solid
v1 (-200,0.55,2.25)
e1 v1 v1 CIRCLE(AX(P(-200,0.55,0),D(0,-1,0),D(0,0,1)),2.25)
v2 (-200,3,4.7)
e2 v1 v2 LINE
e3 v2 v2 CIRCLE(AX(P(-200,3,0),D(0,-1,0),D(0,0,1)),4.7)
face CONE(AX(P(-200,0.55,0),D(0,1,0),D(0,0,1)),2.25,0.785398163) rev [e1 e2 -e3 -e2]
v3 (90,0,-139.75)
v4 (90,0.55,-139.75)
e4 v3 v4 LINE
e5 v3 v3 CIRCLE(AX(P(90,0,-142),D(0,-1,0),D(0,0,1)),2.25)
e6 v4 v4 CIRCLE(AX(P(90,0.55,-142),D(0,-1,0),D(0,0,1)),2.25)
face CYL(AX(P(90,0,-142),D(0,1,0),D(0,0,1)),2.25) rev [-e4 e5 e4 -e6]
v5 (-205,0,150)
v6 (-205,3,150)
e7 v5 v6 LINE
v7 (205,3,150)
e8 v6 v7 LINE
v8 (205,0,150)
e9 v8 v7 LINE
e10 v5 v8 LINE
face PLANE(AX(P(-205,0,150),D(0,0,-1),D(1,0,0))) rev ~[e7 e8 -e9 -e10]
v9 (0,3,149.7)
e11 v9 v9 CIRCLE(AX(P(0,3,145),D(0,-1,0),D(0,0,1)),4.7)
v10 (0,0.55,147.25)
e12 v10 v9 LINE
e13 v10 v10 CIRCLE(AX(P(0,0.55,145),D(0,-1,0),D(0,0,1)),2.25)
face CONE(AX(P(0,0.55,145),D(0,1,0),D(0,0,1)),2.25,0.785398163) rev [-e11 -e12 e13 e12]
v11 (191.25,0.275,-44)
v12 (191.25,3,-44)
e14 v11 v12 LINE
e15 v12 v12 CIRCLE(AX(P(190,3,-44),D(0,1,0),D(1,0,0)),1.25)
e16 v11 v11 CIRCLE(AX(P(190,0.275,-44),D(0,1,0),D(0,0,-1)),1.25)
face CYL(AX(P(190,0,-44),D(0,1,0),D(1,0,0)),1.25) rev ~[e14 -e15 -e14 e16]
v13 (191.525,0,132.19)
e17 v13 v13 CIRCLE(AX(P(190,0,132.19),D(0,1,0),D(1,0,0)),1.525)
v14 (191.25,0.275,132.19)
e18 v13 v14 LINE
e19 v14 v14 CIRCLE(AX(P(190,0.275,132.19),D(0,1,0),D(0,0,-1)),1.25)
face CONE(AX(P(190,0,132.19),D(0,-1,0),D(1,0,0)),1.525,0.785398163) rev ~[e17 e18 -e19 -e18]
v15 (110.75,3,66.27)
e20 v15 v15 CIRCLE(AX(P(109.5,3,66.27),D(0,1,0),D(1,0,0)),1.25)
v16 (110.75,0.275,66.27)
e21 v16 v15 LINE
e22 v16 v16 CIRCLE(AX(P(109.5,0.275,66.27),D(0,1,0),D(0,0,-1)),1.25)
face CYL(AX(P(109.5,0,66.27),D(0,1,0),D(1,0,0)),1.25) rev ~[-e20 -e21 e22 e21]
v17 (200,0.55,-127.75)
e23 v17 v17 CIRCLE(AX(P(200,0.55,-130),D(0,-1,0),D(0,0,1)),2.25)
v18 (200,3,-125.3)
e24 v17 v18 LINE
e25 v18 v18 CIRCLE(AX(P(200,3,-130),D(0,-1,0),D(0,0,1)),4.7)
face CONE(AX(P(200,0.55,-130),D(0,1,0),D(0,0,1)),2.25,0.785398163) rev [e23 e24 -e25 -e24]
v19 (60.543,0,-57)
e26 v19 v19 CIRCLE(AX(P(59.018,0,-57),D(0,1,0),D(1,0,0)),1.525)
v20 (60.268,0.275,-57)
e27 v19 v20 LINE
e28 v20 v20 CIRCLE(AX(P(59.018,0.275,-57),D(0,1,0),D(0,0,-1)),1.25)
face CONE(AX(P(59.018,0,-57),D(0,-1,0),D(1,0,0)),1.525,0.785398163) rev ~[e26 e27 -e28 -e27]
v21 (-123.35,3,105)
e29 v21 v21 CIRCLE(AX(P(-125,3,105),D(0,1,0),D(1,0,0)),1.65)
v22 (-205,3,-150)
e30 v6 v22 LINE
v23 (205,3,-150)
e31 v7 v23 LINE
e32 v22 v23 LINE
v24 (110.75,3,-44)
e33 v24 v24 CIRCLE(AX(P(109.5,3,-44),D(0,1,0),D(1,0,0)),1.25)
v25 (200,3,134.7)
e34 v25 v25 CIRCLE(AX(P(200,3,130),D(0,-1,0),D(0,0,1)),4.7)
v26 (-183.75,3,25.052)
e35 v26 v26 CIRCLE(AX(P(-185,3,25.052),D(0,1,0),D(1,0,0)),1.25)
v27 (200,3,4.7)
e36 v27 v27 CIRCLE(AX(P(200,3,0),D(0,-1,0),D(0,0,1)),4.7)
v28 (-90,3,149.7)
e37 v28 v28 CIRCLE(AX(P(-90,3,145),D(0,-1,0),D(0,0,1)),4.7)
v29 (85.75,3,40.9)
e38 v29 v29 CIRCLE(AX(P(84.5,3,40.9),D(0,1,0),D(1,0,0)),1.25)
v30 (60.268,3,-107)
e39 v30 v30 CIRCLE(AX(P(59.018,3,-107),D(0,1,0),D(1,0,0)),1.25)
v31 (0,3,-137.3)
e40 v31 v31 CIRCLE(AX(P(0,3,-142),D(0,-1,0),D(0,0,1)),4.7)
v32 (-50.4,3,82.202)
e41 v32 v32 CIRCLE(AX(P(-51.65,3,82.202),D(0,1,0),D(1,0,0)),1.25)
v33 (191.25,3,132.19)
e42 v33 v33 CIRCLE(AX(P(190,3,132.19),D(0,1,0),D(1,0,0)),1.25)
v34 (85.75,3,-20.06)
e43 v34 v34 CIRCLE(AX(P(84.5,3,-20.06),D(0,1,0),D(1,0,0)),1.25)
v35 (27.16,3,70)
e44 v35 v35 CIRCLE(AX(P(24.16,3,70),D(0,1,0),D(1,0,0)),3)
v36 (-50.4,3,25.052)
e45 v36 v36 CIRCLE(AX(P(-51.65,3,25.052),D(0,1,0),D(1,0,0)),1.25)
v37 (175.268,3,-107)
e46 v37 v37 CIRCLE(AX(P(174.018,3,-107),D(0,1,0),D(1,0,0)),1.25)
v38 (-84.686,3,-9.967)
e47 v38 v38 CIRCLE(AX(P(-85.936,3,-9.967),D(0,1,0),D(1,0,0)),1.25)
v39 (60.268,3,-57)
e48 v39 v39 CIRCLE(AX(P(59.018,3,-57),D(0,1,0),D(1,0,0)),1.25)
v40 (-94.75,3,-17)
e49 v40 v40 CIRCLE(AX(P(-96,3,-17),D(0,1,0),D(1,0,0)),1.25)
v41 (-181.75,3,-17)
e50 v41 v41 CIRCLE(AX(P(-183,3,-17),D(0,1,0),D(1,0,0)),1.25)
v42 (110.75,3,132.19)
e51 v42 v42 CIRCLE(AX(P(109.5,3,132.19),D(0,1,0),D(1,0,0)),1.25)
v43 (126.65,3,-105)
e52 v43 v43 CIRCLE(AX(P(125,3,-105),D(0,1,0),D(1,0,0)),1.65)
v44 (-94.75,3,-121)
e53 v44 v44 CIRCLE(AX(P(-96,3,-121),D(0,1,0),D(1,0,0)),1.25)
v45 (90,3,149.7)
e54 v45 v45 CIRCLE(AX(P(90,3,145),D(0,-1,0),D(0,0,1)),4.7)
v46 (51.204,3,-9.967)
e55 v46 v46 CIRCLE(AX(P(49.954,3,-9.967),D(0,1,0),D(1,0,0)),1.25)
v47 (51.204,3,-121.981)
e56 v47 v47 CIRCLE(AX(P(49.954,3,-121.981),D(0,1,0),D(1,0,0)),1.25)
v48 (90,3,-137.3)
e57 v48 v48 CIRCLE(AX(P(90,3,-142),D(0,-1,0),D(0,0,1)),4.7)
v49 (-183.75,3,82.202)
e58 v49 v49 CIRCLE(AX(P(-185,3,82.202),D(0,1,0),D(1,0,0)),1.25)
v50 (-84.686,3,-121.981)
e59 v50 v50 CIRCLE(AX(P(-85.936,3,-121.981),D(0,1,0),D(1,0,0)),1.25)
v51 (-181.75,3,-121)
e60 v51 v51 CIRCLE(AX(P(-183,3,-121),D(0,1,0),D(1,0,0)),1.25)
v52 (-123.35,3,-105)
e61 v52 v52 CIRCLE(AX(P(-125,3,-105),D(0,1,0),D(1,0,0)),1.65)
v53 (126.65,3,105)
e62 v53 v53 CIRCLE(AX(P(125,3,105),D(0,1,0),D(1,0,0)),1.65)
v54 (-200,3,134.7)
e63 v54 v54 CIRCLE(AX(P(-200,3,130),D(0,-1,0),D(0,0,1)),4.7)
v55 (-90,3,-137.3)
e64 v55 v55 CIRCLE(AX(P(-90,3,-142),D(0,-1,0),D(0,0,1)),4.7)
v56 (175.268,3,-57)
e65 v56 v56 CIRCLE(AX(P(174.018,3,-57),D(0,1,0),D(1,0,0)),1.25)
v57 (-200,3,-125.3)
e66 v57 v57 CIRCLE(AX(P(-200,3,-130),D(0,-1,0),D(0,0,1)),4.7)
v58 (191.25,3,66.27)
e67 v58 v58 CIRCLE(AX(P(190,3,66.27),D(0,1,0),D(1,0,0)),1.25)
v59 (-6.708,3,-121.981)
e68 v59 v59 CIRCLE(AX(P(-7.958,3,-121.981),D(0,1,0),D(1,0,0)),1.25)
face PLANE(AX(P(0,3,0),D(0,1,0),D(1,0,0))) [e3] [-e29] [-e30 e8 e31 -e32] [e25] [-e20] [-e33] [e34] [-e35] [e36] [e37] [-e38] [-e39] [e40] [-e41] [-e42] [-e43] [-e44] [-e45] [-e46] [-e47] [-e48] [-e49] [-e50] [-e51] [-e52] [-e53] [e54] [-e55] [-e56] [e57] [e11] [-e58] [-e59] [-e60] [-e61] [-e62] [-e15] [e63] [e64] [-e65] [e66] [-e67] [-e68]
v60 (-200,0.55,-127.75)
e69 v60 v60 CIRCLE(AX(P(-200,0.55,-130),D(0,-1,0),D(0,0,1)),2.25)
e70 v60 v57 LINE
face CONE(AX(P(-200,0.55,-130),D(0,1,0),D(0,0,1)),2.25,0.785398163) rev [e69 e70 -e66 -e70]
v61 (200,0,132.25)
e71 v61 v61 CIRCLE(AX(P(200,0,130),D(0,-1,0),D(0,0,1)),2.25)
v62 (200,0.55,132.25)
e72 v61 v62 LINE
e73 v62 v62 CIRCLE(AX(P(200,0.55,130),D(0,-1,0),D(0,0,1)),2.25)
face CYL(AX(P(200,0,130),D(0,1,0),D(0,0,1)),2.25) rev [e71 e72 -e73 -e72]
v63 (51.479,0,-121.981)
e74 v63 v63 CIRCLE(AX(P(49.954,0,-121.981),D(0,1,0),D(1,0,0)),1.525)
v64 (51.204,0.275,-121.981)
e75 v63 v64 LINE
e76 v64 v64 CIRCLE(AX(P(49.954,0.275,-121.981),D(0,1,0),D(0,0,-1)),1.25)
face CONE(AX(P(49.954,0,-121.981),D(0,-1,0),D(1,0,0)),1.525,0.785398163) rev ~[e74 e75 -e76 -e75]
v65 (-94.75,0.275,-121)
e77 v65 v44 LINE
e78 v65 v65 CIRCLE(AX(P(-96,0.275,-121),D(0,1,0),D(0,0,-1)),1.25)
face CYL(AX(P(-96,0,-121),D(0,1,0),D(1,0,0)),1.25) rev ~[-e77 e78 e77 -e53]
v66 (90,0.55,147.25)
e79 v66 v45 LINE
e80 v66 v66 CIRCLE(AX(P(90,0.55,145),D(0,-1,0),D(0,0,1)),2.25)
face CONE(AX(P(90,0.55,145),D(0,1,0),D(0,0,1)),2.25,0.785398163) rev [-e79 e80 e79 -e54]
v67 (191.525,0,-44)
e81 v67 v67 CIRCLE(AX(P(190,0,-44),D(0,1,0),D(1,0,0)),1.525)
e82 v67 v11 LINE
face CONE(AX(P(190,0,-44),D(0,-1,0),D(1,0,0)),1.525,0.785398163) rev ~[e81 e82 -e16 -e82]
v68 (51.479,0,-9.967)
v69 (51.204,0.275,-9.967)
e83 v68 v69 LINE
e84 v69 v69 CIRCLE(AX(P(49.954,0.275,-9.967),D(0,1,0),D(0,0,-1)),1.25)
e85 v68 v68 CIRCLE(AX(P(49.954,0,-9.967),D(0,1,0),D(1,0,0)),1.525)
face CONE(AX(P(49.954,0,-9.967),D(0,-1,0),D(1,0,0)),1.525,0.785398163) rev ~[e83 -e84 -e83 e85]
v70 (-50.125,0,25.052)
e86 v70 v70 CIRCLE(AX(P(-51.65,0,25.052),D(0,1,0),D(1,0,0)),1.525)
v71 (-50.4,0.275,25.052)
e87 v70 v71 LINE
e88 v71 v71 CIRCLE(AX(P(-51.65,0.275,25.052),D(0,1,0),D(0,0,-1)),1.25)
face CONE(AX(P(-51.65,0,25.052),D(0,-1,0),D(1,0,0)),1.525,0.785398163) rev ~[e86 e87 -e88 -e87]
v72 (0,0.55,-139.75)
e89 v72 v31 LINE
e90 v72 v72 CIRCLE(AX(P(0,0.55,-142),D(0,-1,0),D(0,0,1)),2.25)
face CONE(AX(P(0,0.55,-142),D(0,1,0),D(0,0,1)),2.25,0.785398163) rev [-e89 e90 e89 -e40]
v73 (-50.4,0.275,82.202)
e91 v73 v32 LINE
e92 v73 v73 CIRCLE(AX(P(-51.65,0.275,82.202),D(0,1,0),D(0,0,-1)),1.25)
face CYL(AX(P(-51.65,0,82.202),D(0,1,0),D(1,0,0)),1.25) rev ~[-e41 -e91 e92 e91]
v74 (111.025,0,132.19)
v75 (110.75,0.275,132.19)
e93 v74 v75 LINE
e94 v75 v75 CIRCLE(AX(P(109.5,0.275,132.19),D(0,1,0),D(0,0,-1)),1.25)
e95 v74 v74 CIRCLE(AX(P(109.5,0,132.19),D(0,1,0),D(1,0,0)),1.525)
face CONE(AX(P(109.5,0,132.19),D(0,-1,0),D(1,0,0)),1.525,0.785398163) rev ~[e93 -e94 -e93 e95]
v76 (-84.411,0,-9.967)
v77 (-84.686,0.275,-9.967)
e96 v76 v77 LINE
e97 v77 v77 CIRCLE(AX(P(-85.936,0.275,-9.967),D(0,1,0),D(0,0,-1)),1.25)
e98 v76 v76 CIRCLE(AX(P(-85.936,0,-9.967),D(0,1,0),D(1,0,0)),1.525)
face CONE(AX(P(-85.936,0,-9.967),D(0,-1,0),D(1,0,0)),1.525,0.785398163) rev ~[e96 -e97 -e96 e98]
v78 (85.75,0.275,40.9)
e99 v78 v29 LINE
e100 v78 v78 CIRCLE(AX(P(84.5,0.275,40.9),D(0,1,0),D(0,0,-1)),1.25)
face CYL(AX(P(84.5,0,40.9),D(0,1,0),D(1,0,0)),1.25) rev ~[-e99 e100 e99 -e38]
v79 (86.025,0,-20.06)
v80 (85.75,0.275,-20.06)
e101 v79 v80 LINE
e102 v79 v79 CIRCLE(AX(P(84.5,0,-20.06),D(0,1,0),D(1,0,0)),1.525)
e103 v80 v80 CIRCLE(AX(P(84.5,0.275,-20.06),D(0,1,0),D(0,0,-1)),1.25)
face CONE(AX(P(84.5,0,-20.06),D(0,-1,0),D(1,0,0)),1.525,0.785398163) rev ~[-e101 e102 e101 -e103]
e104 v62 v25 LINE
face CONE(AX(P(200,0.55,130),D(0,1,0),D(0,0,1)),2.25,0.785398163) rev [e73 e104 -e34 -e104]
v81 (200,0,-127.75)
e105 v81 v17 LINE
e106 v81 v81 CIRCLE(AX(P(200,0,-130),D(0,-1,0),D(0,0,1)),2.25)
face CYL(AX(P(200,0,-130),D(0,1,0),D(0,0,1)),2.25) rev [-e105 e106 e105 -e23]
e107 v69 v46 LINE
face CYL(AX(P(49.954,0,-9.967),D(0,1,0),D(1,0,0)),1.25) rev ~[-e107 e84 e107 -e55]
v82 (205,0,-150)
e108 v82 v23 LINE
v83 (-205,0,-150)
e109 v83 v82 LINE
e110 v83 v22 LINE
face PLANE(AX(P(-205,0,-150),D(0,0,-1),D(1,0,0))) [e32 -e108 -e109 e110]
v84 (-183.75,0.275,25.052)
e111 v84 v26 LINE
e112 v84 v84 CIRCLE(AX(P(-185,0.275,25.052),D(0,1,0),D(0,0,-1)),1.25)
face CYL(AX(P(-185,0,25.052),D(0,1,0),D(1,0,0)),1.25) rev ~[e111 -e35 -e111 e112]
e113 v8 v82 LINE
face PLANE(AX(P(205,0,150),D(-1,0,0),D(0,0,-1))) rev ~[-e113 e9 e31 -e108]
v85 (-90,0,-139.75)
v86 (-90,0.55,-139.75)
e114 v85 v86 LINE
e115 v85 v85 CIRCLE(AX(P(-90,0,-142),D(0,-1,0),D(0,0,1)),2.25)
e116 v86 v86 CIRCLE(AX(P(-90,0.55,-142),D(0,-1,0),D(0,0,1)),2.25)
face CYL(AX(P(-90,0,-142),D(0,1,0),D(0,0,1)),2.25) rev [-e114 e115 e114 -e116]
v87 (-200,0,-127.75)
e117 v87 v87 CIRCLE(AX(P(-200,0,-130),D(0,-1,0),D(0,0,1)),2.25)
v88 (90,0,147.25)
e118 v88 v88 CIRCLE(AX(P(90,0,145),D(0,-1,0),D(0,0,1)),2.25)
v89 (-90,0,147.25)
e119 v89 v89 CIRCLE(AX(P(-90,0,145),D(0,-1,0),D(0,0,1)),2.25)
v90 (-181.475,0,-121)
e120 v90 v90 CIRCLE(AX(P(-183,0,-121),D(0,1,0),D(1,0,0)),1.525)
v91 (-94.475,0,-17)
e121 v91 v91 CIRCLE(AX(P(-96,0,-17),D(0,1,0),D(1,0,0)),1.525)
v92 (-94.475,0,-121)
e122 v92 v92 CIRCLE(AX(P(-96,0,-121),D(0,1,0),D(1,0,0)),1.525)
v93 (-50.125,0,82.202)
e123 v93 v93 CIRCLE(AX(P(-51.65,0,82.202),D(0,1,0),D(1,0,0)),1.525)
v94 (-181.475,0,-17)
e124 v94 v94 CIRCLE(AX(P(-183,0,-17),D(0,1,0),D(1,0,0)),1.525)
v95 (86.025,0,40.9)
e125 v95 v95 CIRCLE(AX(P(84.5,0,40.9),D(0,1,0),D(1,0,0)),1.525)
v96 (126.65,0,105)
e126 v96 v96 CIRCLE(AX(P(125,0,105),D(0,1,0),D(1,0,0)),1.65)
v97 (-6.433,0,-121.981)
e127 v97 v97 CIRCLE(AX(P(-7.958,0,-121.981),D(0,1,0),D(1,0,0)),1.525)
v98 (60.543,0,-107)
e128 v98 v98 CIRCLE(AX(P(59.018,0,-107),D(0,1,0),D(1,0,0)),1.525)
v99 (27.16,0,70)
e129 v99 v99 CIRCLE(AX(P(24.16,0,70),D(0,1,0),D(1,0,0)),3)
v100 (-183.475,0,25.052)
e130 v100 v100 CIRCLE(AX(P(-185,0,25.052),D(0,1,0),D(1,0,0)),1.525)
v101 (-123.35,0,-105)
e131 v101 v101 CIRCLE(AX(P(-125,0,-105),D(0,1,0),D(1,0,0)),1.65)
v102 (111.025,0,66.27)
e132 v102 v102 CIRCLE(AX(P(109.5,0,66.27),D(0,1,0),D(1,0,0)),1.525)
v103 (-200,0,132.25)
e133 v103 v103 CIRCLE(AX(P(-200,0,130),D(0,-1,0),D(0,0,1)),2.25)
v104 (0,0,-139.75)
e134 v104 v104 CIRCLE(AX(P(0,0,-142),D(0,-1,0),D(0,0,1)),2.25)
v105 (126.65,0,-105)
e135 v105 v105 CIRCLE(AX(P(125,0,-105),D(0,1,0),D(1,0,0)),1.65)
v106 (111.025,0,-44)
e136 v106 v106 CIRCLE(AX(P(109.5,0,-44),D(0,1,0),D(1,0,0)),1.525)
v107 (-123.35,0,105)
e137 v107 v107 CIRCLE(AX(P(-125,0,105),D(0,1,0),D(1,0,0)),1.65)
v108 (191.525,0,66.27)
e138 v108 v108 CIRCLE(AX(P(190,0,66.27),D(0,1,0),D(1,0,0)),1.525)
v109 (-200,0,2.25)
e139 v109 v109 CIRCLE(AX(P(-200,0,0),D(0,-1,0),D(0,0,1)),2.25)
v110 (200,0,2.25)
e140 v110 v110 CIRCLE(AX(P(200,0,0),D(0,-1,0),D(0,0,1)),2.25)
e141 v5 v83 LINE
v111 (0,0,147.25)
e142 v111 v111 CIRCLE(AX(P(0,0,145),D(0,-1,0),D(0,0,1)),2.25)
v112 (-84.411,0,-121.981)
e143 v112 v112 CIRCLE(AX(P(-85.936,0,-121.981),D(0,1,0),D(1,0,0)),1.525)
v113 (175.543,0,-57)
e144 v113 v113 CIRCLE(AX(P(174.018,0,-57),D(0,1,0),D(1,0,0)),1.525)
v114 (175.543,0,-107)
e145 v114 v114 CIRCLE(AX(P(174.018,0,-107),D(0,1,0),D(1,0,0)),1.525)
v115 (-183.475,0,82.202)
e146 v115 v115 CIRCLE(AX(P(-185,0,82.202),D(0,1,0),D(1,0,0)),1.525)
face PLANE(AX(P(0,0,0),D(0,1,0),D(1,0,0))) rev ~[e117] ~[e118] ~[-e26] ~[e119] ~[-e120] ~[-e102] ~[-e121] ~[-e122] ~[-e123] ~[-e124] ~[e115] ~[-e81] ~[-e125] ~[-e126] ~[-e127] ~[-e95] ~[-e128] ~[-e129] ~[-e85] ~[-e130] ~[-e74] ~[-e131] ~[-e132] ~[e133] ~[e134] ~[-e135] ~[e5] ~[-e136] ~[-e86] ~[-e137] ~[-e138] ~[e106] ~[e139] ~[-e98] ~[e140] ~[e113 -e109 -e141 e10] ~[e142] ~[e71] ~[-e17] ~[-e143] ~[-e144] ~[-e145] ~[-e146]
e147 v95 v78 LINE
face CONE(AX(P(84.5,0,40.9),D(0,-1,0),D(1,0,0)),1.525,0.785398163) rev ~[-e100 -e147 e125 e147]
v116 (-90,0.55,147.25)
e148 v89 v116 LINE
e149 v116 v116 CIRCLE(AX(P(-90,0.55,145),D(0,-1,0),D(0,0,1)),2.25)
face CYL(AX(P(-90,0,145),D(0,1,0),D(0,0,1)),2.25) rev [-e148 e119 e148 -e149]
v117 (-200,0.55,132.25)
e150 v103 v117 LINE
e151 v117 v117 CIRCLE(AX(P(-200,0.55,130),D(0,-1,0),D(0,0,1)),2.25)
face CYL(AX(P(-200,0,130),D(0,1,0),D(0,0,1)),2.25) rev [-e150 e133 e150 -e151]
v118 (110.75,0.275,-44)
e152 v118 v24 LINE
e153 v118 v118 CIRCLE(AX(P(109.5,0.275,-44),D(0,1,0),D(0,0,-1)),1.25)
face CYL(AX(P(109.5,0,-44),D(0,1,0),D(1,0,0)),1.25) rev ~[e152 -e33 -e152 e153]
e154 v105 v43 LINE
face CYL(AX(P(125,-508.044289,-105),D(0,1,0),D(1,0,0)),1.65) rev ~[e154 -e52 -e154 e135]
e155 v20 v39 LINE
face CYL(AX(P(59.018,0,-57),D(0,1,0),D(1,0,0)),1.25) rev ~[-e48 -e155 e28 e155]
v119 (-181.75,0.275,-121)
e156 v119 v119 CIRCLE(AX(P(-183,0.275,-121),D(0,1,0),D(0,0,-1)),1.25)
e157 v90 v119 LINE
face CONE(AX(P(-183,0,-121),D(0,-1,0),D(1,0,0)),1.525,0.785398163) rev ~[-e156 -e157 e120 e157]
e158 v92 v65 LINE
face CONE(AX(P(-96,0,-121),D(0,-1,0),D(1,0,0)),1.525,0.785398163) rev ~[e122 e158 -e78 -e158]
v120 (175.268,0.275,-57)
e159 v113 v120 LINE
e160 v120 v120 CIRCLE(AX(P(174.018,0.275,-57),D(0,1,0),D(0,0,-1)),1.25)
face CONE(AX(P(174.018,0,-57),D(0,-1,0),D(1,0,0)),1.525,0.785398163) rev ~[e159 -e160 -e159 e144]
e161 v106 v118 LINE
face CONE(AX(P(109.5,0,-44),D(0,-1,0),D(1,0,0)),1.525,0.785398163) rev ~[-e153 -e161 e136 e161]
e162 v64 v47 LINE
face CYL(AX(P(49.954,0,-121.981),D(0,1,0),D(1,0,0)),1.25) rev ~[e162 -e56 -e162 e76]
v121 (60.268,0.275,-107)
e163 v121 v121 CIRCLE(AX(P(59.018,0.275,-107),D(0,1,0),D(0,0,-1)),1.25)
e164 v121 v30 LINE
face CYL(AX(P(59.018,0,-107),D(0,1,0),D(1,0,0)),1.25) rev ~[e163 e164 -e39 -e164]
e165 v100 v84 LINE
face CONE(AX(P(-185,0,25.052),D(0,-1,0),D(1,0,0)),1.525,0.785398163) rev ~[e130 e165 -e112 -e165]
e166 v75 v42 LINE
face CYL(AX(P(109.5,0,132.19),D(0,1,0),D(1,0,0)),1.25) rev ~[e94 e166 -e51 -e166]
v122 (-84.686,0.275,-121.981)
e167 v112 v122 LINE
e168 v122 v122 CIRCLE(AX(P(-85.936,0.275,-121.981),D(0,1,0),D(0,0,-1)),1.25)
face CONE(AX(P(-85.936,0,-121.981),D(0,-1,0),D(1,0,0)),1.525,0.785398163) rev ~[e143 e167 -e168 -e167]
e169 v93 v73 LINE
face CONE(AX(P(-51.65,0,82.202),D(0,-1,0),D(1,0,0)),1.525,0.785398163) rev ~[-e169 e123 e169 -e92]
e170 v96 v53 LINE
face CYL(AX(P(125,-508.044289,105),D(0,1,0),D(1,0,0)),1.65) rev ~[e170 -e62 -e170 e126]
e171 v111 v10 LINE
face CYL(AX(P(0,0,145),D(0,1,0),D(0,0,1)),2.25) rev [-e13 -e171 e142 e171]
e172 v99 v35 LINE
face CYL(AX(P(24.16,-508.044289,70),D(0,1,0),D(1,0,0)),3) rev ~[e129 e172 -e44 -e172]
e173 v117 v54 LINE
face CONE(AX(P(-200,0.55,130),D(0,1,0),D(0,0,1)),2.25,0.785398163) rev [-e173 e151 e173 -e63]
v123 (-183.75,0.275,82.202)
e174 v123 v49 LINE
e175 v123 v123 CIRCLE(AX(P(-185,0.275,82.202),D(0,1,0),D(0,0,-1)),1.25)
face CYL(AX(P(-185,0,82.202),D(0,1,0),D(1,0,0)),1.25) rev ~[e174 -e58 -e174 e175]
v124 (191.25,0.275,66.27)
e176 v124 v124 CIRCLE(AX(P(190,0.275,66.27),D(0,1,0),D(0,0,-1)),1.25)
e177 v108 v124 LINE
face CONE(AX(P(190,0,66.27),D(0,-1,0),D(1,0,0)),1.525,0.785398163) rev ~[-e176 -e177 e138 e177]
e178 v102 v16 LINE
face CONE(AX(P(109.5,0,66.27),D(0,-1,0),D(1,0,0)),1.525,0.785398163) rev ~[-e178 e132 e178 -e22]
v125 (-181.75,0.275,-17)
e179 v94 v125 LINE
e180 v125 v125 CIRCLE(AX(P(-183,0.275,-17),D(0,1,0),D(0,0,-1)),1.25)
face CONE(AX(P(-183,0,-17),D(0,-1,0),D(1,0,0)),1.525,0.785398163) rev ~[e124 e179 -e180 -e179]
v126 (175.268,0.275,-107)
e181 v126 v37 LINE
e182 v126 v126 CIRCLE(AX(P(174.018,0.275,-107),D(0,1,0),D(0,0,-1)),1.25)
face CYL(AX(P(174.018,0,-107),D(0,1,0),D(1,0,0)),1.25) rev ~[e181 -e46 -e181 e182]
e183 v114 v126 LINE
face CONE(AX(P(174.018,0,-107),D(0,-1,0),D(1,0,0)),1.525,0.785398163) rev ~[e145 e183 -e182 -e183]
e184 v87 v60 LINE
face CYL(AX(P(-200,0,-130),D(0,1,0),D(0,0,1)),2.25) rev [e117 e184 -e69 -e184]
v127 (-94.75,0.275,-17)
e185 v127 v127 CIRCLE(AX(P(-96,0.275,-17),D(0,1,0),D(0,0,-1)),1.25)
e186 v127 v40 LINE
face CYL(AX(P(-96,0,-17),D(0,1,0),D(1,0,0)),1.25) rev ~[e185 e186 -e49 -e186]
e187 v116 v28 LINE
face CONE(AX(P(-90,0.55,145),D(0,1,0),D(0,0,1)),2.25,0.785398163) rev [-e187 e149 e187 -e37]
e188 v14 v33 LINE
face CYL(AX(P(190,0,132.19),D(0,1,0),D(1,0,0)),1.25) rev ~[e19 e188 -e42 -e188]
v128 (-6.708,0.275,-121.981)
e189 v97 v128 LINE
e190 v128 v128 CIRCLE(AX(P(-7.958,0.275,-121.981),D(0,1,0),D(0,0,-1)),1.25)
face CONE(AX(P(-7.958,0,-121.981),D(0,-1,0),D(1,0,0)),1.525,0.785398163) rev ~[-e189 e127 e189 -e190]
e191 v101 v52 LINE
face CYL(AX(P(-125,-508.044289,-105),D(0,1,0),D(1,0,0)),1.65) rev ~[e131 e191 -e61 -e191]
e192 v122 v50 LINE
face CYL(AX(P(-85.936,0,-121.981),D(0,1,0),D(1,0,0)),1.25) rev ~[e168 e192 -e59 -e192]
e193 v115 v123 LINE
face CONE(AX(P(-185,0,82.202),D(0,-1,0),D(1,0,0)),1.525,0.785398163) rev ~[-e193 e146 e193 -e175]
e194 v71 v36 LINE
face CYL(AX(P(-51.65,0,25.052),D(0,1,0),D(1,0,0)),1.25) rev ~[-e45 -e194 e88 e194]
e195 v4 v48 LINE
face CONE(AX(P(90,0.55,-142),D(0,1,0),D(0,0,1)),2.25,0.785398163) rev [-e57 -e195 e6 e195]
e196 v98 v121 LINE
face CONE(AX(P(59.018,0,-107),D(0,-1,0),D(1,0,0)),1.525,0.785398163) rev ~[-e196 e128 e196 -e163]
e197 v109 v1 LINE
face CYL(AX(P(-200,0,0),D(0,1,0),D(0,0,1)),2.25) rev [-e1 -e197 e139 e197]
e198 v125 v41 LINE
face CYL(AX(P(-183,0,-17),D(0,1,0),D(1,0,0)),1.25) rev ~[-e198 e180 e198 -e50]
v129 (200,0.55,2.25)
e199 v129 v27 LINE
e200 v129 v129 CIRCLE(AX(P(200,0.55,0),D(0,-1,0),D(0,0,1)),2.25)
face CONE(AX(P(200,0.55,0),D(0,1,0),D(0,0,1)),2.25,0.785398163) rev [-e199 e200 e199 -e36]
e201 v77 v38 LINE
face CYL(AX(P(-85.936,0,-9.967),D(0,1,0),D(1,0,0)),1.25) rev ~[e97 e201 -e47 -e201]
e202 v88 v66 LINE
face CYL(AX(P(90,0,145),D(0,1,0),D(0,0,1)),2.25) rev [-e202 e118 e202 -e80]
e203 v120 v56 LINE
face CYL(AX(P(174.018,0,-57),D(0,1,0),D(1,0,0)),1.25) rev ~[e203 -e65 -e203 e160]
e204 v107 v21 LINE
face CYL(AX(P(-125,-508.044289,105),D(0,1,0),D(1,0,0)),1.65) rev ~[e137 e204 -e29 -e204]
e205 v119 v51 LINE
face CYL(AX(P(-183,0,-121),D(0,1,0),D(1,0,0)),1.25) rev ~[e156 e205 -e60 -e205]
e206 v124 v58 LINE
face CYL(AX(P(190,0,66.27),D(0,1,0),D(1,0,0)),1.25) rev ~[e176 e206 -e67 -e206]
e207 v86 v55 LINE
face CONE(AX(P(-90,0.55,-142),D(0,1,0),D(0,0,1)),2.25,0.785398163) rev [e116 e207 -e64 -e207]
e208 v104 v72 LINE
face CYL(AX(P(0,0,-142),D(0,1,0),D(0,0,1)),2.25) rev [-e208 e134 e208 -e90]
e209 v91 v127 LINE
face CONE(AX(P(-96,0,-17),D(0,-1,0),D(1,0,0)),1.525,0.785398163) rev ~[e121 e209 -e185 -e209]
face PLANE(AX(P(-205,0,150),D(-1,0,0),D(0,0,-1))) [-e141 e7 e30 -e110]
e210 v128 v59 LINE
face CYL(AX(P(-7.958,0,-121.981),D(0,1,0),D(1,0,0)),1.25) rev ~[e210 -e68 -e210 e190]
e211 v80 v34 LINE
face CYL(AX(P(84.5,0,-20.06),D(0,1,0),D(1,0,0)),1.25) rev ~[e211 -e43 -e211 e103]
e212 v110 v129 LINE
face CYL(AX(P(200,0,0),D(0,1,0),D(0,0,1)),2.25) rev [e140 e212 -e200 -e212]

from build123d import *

# Parameters (mm, degrees)
SKETCH_1_W                   = 410
SKETCH_1_H                   = 300
EXTRUDE_1_DEPTH              = 3
HOLE_WIZARD_M4_1_AT_2_COUNT  = 2
HOLE_WIZARD_M4_1_AT_2_PITCH  = 90
HOLE_WIZARD_M4_1_AT_3_COUNT  = 2
HOLE_WIZARD_M4_1_AT_3_PITCH  = 90
HOLE_WIZARD_M4_1_AT_4_COUNT  = 2
HOLE_WIZARD_M4_1_AT_4_PITCH  = 245.283509433
HOLE_WIZARD_M4_1_AT_5_COUNT  = 2
HOLE_WIZARD_M4_1_AT_5_PITCH  = 287
HOLE_WIZARD_M4_1_AT_6_COUNT  = 2
HOLE_WIZARD_M4_1_AT_6_PITCH  = 245.283509433
HOLE_WIZARD_M4_1_AT_7_COUNT  = 2
HOLE_WIZARD_M4_1_AT_7_PITCH  = 200.359676582
HOLE_WIZARD_M4_1_AT_8_COUNT  = 2
HOLE_WIZARD_M4_1_AT_8_PITCH  = 337.615165536
HOLE_WIZARD_M4_1_AT_9_COUNT  = 2
HOLE_WIZARD_M4_1_AT_9_PITCH  = 337.615165536
HOLE_WIZARD_M4_1_AT_10_COUNT = 2
HOLE_WIZARD_M4_1_AT_10_PITCH = 200.359676582
HOLE_WIZARD_M4_1_AT_11_COUNT = 2
HOLE_WIZARD_M4_1_AT_11_PITCH = 300.780650973
HOLE_WIZARD_M4_1_AT_12_COUNT = 2
HOLE_WIZARD_M4_1_AT_12_PITCH = 300.780650973
HOLE_WIZARD_M3_1_D           = 2.5
HOLE_WIZARD_M3_1_CSINK_D     = 3.05
HOLE_WIZARD_M3_1_CSINK_ANGLE = 90
F_6_0MM_1_D                  = 6
HOLE_WIZARD_M4_1_2_D         = 3.3


with BuildPart() as part:
    # 草圖1 → 填料-伸長1 (new body)
    with BuildSketch(Plane(origin=(0, 0, 0), x_dir=(1, 0, 0), z_dir=(0, 1, 0))):
        Rectangle(SKETCH_1_W, SKETCH_1_H)
    extrude(amount=EXTRUDE_1_DEPTH)

    # 草圖3 → Hole Wizard M4 _1 (revolve, cut)
    with BuildSketch(Plane(origin=(0, 3, -142), x_dir=(0, 0, 1), z_dir=(1, 0, 0))):
        Polygon((0, 0), (0, 3), (2.25, 3), (2.25, 2.45), (4.7, 0), align=None)
    hole_wizard_m4_1 = revolve(axis=Axis((0, 9.35, -142), (0, -1, 0)), mode=Mode.SUBTRACT)

    # Hole Wizard M4 _1 at 2: Hole Wizard M4 _1 ×2
    with Locations(*[(-i * HOLE_WIZARD_M4_1_AT_2_PITCH, 0, 0) for i in range(1, HOLE_WIZARD_M4_1_AT_2_COUNT)]):
        add(hole_wizard_m4_1, mode=Mode.SUBTRACT)

    # Hole Wizard M4 _1 at 3: Hole Wizard M4 _1 ×2
    with Locations(*[(i * HOLE_WIZARD_M4_1_AT_3_PITCH, 0, 0) for i in range(1, HOLE_WIZARD_M4_1_AT_3_COUNT)]):
        add(hole_wizard_m4_1, mode=Mode.SUBTRACT)

    # Hole Wizard M4 _1 at 4: Hole Wizard M4 _1 ×2
    with Locations(*[Vector(0.815382985, 0, 0.578921919) * (i * HOLE_WIZARD_M4_1_AT_4_PITCH) for i in range(1, HOLE_WIZARD_M4_1_AT_4_COUNT)]):
        add(hole_wizard_m4_1, mode=Mode.SUBTRACT)

    # Hole Wizard M4 _1 at 5: Hole Wizard M4 _1 ×2
    with Locations(*[(0, 0, i * HOLE_WIZARD_M4_1_AT_5_PITCH) for i in range(1, HOLE_WIZARD_M4_1_AT_5_COUNT)]):
        add(hole_wizard_m4_1, mode=Mode.SUBTRACT)

    # Hole Wizard M4 _1 at 6: Hole Wizard M4 _1 ×2
    with Locations(*[Vector(-0.815382985, 0, 0.578921919) * (i * HOLE_WIZARD_M4_1_AT_6_PITCH) for i in range(1, HOLE_WIZARD_M4_1_AT_6_COUNT)]):
        add(hole_wizard_m4_1, mode=Mode.SUBTRACT)

    # Hole Wizard M4 _1 at 7: Hole Wizard M4 _1 ×2
    with Locations(*[Vector(0.998204845, 0, 0.059892291) * (i * HOLE_WIZARD_M4_1_AT_7_PITCH) for i in range(1, HOLE_WIZARD_M4_1_AT_7_COUNT)]):
        add(hole_wizard_m4_1, mode=Mode.SUBTRACT)

    # Hole Wizard M4 _1 at 8: Hole Wizard M4 _1 ×2
    with Locations(*[Vector(0.59239045, 0, 0.805651013) * (i * HOLE_WIZARD_M4_1_AT_8_PITCH) for i in range(1, HOLE_WIZARD_M4_1_AT_8_COUNT)]):
        add(hole_wizard_m4_1, mode=Mode.SUBTRACT)

    # Hole Wizard M4 _1 at 9: Hole Wizard M4 _1 ×2
    with Locations(*[Vector(-0.59239045, 0, 0.805651013) * (i * HOLE_WIZARD_M4_1_AT_9_PITCH) for i in range(1, HOLE_WIZARD_M4_1_AT_9_COUNT)]):
        add(hole_wizard_m4_1, mode=Mode.SUBTRACT)

    # Hole Wizard M4 _1 at 10: Hole Wizard M4 _1 ×2
    with Locations(*[Vector(-0.998204845, 0, 0.059892291) * (i * HOLE_WIZARD_M4_1_AT_10_PITCH) for i in range(1, HOLE_WIZARD_M4_1_AT_10_COUNT)]):
        add(hole_wizard_m4_1, mode=Mode.SUBTRACT)

    # Hole Wizard M4 _1 at 11: Hole Wizard M4 _1 ×2
    with Locations(*[Vector(0.299221375, 0, 0.954183719) * (i * HOLE_WIZARD_M4_1_AT_11_PITCH) for i in range(1, HOLE_WIZARD_M4_1_AT_11_COUNT)]):
        add(hole_wizard_m4_1, mode=Mode.SUBTRACT)

    # Hole Wizard M4 _1 at 12: Hole Wizard M4 _1 ×2
    with Locations(*[Vector(-0.299221375, 0, 0.954183719) * (i * HOLE_WIZARD_M4_1_AT_12_PITCH) for i in range(1, HOLE_WIZARD_M4_1_AT_12_COUNT)]):
        add(hole_wizard_m4_1, mode=Mode.SUBTRACT)

    # M3 螺紋孔1 (through all)
    with Locations(Plane(origin=(0, 0, 0), x_dir=(-1, 0, 0), z_dir=(0, -1, 0))):
        with Locations((183, 121), (96, 121), (96, 17), (183, 17), (85.936, 121.981), (85.936, 9.967), (-49.954, 9.967), (-49.954, 121.981), (-59.018, 107), (-59.018, 57), (-174.018, 57), (-174.018, 107), (-190, -132.19), (-190, 44), (-109.5, 44), (-109.5, -132.19), (185, -82.202), (51.65, -82.202), (51.65, -25.052), (185, -25.052), (-84.5, -40.9), (-109.5, -66.27), (-190, -66.27), (-84.5, 20.06), (7.958, 121.981)):
            CounterSinkHole(HOLE_WIZARD_M3_1_D / 2, HOLE_WIZARD_M3_1_CSINK_D / 2, counter_sink_angle=HOLE_WIZARD_M3_1_CSINK_ANGLE)

    # Ø6.0mm 定位孔1 (through all)
    with Locations(Plane(origin=(0, 0, 0), x_dir=(-1, 0, 0), z_dir=(0, -1, 0))):
        with Locations((-24.16, -70)):
            Hole(F_6_0MM_1_D / 2)

    # Hole Wizard M4 _1 2 (through all)
    with Locations(Plane(origin=(0, 0, 0), x_dir=(-1, 0, 0), z_dir=(0, -1, 0))):
        with Locations((125, -105), (125, 105), (-125, 105), (-125, -105)):
            Hole(HOLE_WIZARD_M4_1_2_D / 2)


solid = part.part
